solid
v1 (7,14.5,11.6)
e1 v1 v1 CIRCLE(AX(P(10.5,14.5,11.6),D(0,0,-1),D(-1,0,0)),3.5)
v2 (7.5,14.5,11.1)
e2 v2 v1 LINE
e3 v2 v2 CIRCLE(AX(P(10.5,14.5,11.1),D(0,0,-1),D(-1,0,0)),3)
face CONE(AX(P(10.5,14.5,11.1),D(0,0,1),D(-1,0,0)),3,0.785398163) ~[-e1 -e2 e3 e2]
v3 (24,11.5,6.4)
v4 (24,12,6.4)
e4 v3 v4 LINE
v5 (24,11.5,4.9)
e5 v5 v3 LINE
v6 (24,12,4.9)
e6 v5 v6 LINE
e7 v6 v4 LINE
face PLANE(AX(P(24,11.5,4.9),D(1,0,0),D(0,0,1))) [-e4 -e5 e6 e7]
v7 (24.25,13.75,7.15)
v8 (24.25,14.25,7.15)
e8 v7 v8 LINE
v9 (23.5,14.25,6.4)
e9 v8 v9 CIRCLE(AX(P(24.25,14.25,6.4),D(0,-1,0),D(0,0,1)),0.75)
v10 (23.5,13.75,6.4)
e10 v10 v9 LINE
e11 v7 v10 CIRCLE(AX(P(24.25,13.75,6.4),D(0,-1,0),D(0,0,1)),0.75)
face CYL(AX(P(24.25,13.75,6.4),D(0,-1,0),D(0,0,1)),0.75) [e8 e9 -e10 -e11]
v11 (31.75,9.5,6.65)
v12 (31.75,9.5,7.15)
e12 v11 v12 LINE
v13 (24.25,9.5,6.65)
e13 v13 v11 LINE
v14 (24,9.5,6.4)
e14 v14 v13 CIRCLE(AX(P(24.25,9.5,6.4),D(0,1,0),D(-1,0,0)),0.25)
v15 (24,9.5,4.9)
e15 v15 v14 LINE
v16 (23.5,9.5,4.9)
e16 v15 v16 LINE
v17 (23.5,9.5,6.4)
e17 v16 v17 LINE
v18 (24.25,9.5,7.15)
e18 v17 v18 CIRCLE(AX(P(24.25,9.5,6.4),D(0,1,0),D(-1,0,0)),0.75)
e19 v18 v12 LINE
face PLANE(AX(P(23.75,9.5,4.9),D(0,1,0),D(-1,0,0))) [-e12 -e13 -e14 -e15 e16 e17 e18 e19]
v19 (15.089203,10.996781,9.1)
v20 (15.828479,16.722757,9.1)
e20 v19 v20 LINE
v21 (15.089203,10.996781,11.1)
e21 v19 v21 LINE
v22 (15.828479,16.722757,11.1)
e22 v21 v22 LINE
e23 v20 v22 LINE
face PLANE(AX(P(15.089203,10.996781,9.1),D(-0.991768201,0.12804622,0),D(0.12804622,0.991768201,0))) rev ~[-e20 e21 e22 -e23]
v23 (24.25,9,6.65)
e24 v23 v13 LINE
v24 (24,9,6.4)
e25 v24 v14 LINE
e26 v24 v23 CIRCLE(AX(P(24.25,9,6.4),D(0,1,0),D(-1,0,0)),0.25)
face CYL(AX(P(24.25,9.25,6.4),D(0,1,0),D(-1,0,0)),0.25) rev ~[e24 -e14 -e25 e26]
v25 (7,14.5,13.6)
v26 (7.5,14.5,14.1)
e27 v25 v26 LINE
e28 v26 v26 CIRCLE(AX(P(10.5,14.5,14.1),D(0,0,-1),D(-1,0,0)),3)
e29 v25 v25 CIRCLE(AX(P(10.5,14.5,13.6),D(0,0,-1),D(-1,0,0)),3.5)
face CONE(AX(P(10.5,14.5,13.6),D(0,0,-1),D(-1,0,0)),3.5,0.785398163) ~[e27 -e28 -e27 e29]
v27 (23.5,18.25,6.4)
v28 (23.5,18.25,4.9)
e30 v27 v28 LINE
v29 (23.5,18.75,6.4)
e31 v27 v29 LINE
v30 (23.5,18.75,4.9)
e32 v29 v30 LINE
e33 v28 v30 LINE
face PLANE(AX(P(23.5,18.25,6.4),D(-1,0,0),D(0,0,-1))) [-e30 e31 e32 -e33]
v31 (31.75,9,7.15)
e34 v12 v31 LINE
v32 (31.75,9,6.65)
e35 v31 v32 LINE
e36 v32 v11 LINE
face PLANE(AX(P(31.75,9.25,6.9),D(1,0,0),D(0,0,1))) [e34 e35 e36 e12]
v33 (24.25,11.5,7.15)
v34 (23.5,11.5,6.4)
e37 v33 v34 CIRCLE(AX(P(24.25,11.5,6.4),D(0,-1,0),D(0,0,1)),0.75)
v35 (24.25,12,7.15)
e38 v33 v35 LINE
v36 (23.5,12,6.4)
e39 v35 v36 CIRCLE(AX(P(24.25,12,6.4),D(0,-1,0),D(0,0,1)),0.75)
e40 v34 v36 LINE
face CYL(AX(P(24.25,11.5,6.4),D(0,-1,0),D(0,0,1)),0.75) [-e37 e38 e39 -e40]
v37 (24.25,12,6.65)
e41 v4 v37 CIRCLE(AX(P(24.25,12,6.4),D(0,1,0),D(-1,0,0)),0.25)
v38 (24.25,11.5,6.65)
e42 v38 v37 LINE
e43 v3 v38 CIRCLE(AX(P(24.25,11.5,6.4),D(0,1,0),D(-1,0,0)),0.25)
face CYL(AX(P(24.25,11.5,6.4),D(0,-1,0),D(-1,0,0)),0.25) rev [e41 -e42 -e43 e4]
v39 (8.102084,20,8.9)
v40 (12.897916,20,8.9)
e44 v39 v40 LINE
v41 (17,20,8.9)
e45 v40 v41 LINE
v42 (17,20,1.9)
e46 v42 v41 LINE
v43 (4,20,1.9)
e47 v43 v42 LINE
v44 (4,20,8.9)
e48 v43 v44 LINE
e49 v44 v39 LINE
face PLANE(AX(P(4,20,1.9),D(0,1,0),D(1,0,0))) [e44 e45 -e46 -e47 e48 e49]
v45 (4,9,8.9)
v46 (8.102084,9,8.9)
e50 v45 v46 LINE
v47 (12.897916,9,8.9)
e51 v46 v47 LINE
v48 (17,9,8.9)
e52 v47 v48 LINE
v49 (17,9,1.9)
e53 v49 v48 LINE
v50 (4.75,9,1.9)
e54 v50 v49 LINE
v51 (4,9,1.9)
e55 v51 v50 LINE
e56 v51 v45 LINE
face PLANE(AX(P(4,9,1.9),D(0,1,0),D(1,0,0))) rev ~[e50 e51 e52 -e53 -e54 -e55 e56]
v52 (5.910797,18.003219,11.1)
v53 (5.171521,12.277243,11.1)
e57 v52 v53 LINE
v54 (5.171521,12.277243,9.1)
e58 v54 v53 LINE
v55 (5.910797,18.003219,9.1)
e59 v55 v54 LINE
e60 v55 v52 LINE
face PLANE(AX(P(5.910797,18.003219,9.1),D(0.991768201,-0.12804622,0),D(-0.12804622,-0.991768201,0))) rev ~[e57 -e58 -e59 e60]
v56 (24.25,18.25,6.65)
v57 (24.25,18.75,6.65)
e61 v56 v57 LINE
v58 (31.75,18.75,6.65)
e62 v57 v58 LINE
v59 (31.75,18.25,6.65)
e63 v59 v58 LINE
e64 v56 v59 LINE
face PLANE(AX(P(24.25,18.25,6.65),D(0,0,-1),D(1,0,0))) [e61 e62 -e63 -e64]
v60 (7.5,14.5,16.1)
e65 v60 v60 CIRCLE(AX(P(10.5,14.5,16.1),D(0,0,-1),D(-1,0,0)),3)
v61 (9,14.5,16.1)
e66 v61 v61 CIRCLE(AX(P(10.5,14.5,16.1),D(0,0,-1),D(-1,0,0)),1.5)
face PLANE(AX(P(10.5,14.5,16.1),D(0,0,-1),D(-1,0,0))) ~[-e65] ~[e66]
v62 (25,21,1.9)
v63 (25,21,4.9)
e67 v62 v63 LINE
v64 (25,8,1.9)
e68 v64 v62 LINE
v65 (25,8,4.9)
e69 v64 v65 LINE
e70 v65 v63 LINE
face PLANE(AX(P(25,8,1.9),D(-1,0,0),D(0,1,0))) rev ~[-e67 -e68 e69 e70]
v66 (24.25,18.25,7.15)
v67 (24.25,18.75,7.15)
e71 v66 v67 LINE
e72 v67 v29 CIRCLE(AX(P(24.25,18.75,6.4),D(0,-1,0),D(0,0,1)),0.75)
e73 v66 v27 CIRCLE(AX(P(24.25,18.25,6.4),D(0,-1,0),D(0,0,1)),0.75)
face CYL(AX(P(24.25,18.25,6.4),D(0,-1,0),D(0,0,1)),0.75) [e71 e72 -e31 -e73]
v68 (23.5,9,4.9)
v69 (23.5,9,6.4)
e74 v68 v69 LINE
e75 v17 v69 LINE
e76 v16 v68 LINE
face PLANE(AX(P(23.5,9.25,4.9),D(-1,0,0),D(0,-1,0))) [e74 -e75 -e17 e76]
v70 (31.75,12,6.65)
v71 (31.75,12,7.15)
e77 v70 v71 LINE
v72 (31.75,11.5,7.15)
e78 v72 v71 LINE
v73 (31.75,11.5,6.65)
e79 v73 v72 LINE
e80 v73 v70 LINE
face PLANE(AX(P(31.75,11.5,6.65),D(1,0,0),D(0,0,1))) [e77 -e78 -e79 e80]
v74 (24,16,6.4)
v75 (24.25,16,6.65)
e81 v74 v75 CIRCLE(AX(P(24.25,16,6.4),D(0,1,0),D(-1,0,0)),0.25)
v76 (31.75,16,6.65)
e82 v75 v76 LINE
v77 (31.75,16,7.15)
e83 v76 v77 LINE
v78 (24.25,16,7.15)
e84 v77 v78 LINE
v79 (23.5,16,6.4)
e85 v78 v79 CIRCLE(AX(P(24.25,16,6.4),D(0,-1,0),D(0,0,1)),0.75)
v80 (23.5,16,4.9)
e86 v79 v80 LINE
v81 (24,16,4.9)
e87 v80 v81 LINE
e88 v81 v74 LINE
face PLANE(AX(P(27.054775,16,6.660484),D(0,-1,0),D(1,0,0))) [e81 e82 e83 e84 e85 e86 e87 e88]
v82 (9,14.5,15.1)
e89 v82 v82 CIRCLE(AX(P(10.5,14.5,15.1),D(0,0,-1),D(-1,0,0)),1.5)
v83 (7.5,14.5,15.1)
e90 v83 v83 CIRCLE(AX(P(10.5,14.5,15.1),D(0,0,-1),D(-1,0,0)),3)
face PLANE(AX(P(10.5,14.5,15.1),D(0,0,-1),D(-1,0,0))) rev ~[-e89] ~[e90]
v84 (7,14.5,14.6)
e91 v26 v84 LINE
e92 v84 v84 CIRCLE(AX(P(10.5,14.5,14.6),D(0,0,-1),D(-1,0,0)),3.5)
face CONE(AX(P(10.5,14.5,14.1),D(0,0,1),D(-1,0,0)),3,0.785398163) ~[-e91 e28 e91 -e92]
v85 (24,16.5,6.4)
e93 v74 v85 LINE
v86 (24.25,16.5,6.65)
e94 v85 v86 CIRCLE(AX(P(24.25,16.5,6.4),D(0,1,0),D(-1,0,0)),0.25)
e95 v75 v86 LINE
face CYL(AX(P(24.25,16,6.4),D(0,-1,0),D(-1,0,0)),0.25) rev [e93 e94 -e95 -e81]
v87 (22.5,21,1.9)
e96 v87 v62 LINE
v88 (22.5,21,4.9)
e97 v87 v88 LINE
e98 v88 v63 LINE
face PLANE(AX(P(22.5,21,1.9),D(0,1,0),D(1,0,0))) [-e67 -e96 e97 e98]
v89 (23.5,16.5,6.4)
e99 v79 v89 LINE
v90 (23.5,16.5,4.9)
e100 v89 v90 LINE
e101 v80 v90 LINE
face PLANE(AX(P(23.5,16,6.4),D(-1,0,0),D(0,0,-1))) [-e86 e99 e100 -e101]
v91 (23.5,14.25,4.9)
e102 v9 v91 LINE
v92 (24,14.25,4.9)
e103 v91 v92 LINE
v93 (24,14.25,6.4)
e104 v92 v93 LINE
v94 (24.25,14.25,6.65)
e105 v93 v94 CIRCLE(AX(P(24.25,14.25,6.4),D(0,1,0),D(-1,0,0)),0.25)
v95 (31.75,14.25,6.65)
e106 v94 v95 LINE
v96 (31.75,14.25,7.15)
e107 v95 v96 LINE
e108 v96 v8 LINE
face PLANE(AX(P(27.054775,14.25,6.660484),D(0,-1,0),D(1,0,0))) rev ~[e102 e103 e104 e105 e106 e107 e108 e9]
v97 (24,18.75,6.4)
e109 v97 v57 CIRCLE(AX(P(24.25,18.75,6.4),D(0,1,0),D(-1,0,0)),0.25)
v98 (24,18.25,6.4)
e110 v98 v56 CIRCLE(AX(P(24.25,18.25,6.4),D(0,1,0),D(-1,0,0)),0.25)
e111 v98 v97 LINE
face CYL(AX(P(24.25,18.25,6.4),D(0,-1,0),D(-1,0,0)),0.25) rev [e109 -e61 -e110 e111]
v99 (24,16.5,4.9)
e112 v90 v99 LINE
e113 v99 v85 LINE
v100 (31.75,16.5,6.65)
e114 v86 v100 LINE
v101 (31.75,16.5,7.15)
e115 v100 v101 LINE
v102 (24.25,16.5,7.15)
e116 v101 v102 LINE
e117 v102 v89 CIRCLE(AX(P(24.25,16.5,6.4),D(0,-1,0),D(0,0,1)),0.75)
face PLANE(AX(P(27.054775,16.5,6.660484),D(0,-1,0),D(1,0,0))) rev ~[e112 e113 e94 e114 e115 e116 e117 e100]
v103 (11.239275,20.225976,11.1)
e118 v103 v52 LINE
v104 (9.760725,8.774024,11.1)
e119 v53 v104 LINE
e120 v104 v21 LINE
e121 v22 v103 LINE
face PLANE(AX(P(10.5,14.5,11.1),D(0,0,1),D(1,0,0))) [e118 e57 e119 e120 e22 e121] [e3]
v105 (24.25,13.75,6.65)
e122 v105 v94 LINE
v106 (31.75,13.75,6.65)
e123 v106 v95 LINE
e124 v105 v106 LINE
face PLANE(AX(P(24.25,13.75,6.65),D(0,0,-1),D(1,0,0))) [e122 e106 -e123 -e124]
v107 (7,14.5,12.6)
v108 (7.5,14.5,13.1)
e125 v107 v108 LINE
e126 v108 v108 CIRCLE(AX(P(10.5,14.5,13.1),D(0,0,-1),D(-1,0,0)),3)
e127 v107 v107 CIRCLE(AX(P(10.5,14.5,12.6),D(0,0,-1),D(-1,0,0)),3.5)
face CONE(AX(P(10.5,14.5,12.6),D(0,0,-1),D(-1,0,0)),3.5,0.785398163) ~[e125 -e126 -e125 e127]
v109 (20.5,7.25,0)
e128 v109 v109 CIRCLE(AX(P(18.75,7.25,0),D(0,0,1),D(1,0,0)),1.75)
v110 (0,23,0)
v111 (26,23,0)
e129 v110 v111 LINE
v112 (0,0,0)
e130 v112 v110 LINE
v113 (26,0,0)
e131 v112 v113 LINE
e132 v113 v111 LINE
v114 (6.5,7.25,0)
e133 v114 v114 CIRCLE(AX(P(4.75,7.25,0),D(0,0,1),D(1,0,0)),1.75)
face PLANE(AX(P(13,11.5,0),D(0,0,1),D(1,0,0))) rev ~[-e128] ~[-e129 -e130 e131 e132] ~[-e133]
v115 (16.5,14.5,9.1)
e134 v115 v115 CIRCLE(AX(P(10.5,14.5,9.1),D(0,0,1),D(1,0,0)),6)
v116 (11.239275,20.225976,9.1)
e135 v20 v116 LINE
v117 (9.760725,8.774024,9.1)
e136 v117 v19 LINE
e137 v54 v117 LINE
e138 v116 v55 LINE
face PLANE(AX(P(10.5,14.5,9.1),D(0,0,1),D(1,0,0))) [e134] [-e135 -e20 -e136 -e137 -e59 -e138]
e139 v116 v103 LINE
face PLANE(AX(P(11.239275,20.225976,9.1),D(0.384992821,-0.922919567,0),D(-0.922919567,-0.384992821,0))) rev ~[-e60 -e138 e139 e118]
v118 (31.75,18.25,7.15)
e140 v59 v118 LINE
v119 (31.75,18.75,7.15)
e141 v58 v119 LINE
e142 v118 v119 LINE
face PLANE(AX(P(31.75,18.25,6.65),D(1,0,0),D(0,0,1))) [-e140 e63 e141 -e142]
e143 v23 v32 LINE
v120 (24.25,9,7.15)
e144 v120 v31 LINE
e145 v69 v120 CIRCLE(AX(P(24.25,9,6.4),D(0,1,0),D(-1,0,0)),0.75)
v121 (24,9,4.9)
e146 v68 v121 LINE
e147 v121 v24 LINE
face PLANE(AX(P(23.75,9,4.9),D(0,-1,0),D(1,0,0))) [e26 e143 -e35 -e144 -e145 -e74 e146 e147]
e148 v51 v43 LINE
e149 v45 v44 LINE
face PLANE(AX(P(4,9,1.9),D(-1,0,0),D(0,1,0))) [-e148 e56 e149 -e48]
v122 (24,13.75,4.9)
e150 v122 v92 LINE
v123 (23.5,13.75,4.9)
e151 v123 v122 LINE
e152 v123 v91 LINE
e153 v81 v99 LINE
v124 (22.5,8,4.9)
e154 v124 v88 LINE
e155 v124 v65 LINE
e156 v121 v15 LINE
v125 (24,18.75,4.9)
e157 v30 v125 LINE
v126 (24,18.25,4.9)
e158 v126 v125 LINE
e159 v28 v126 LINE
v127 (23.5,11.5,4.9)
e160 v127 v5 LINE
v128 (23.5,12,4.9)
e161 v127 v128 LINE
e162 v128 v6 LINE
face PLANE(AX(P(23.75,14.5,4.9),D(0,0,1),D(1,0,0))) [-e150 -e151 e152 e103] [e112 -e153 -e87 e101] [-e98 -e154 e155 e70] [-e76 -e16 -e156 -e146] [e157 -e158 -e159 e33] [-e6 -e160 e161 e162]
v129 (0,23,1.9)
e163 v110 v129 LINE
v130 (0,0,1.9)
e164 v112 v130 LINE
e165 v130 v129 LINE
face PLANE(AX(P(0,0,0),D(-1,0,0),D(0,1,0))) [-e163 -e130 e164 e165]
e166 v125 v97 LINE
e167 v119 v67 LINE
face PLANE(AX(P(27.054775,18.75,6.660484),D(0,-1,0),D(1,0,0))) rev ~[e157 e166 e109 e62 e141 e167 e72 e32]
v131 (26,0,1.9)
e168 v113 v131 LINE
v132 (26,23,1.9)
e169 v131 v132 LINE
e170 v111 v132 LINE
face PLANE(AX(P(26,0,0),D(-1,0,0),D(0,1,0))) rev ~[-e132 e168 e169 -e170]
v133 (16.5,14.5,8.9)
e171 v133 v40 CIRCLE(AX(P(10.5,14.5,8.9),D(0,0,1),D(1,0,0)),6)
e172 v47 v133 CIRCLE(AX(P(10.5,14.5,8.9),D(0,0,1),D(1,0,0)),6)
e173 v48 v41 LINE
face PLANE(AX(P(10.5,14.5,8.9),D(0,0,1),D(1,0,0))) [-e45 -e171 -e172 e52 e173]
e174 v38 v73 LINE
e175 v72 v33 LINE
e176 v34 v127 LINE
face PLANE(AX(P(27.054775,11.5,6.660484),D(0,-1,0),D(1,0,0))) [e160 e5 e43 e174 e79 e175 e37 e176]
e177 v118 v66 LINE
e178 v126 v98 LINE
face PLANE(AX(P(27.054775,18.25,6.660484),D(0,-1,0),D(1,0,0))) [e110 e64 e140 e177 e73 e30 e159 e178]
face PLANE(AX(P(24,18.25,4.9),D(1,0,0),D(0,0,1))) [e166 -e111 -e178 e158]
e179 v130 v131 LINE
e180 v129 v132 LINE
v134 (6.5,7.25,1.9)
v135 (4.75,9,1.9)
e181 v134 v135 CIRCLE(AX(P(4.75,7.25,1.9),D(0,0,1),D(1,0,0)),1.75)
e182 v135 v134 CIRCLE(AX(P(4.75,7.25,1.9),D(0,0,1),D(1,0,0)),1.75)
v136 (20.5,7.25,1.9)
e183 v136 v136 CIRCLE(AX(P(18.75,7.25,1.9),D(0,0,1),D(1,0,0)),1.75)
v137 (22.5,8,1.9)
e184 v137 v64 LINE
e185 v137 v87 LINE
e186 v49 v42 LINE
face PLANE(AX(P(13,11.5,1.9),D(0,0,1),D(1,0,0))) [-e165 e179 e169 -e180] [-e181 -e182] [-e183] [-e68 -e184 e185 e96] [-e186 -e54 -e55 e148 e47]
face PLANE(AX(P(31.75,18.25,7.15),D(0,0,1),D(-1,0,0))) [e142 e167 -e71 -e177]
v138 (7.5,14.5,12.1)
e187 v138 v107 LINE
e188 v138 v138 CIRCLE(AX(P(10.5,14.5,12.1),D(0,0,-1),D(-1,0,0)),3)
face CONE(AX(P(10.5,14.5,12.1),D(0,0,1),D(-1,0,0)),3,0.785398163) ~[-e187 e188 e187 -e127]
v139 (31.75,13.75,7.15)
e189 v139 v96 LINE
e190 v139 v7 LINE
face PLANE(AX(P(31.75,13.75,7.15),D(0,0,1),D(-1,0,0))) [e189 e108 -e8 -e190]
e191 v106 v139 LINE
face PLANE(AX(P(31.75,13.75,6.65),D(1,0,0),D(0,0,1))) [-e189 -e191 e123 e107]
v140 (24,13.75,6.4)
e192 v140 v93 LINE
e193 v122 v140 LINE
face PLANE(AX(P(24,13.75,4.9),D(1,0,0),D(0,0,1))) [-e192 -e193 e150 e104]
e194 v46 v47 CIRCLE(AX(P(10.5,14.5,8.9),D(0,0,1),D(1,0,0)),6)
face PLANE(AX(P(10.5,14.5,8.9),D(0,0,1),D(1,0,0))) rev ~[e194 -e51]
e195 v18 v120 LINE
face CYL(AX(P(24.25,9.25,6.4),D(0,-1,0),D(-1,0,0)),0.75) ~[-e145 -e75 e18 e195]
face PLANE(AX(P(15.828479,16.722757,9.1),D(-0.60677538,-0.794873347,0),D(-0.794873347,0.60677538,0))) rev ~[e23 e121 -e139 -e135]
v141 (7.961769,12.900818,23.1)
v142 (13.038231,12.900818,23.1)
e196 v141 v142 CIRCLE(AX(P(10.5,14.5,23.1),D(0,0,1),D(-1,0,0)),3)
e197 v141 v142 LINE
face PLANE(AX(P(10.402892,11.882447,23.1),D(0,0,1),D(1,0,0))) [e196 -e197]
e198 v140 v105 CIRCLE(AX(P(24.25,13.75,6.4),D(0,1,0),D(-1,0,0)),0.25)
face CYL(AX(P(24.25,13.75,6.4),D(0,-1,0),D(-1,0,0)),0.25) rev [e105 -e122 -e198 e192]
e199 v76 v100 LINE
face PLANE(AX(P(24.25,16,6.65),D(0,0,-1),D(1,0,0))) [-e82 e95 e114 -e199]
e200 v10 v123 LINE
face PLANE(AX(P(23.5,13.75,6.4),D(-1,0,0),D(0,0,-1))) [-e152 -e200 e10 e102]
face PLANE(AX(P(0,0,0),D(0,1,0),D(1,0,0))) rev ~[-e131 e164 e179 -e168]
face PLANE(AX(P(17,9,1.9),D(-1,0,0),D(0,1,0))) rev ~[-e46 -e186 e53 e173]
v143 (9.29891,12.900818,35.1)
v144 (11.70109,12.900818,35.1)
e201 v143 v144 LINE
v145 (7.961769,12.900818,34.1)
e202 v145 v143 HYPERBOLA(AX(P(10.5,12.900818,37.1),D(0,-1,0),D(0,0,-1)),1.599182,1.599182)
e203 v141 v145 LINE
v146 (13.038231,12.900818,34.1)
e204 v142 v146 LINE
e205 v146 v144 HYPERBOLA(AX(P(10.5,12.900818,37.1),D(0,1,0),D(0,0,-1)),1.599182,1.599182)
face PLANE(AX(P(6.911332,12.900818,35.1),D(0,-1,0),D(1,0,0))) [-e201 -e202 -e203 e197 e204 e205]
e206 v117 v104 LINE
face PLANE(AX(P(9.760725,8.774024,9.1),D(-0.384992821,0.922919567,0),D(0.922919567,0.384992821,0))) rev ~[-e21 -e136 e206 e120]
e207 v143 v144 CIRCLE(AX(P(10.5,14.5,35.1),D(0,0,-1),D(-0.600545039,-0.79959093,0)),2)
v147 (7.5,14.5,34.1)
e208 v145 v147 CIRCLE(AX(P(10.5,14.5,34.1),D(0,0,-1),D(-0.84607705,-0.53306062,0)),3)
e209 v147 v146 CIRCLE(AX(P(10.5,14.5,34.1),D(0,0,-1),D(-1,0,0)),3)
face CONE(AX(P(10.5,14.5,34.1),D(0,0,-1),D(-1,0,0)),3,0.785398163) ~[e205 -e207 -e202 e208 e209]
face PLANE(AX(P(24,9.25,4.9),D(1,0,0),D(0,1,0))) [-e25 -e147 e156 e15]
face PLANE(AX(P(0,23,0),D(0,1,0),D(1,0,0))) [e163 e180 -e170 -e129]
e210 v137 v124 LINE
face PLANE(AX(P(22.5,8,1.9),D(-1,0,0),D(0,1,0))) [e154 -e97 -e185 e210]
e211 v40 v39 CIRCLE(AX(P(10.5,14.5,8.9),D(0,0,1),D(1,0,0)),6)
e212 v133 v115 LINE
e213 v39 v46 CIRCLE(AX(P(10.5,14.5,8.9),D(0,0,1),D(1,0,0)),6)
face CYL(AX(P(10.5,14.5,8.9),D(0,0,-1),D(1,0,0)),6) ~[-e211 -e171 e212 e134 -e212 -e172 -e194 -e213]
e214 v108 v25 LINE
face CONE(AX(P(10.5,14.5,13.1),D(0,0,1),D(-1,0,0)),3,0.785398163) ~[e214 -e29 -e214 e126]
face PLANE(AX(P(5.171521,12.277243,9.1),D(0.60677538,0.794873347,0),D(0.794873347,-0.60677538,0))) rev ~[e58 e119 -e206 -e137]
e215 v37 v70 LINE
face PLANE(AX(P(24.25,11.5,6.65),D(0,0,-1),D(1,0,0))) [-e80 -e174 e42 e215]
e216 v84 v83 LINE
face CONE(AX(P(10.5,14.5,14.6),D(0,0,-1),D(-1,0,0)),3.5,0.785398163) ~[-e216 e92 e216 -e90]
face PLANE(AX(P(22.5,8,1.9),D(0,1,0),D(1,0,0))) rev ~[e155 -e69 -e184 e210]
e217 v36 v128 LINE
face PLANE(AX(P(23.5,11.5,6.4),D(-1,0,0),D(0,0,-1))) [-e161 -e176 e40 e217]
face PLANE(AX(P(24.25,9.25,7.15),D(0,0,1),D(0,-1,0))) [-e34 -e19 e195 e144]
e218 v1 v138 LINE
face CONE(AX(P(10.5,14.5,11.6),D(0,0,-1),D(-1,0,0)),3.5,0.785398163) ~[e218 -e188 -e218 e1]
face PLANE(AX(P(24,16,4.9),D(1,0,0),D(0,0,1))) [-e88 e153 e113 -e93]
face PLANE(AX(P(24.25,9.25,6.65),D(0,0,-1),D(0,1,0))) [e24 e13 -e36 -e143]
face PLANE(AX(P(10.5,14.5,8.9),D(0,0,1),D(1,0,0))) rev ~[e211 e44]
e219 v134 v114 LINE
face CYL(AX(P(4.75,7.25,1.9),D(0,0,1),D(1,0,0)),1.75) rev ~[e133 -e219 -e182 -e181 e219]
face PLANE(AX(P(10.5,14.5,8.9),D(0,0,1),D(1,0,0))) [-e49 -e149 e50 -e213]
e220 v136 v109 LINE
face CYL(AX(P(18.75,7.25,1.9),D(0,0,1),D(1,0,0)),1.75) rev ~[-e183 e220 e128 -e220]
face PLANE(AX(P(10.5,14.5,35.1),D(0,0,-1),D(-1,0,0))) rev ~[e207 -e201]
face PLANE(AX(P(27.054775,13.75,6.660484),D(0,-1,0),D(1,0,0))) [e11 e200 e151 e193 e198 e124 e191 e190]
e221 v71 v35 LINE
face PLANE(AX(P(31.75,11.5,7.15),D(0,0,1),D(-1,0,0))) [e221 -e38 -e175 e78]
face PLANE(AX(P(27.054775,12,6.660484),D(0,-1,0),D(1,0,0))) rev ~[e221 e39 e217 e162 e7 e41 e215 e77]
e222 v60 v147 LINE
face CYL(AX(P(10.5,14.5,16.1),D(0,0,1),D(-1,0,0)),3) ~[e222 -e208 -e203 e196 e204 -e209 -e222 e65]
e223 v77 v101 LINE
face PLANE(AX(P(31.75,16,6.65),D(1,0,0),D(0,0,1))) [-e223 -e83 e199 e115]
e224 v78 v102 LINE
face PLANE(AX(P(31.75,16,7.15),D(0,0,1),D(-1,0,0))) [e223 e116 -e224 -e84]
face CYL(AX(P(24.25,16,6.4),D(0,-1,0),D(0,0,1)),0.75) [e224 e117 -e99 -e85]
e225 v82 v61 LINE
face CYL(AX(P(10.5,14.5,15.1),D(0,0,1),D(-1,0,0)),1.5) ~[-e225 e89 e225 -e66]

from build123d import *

# Parameters (mm, degrees)
F0_W      = 26
F0_H      = 23
F1_DEPTH  = 1.9
F3_W      = 13
F3_H      = 11
F4_DEPTH  = 7
F5_R      = 6
F6_DEPTH  = 0.2
F8_DEPTH  = 2
F14_W     = 6.9831185974
F14_H     = 2.036742866
F15_DEPTH = 12
F16_SIZE  = 1
F17_W     = 2.5
F17_H     = 13
F18_DEPTH = 3
F20_R     = 1.75
F21_DEPTH = 2
F23_W     = 0.5
F23_H     = 0.5
F27_DEPTH = 0.5
F30_DEPTH = 0.5
F33_DEPTH = 0.5
F36_DEPTH = 0.5


with BuildPart() as f1:
    # F0 (on Top) → F1 (new body)
    with BuildSketch(Plane.XY):
        with Locations((13, 11.5)):
            Rectangle(F0_W, F0_H)
    extrude(amount=F1_DEPTH)

    # F3 (on face) → F4 (join)
    with BuildSketch(Plane.XY.offset(1.9)):
        with Locations((10.5, 14.5)):
            Rectangle(F3_W, F3_H)
    extrude(amount=F4_DEPTH)

    # F5 (on face) → F6 (join)
    with BuildSketch(Plane.XY.offset(8.9)):
        with Locations((10.5, 14.5)):
            Circle(F5_R)
    extrude(amount=F6_DEPTH)

    # F7 (on face) → F8 (join)
    with BuildSketch(Plane.XY.offset(9.1)):
        Polygon((5.1715213938, 12.277242911), (9.7607248024, 8.774023619), (15.0892034086, 10.996780708), (15.8284786062, 16.722757089), (11.2392751976, 20.225976381), (5.9107965914, 18.003219292), align=None)
    extrude(amount=F8_DEPTH)

    # F10 (on offset) → F11 (revolve)
    with BuildSketch(Plane(origin=(0, 14.5, 0), x_dir=(-1, 0, 0), z_dir=(0, 1, 0))):
        Polygon((-7.5, 11.1), (-7, 11.6), (-7.5, 12.1), (-7, 12.6), (-7.5, 13.1), (-7, 13.6), (-7.5, 14.1), (-7, 14.6), (-7.5, 15.1), (-10.5, 15.1), (-10.5, 11.1), align=None)
    revolve(axis=Axis((10.5, 14.5, 17.7832646295), (0, 0, -1)))

    # F12 (on offset) → F13 (revolve)
    with BuildSketch(Plane(origin=(0, 14.5, 0), x_dir=(-1, 0, 0), z_dir=(0, 1, 0))):
        Polygon((-7.5, 35.1), (-10.5, 35.1), (-10.5, 15.1), (-9, 15.1), (-9, 16.1), (-7.5, 16.1), align=None)
    revolve(axis=Axis((10.5, 14.5, 21.5967431704), (0, 0, -1)))

    # F14 (on face) → F15 (cut)
    with BuildSketch(Plane.XY.offset(35.1)):
        with Locations((10.4028915521, 11.8824467063)):
            Rectangle(F14_W, F14_H)
    extrude(amount=-F15_DEPTH, mode=Mode.SUBTRACT)

    # F16
    f16_edges = [f1.edges().sort_by_distance(p)[0] for p in [
        (11.332258, 17.382247, 35.1),
    ]]
    chamfer(f16_edges, length=F16_SIZE)

    # F17 (on face) → F18 (join)
    with BuildSketch(Plane.XY.offset(1.9)):
        with Locations((23.75, 14.5)):
            Rectangle(F17_W, F17_H)
    extrude(amount=F18_DEPTH)

    # F20 (on face) → F21 (cut)
    with BuildSketch(Plane.XY.offset(1.9)):
        with Locations((4.75, 7.25)):
            Circle(F20_R)
        with Locations((18.75, 7.25)):
            Circle(F20_R)
    extrude(amount=-F21_DEPTH, mode=Mode.SUBTRACT)

    # F24: sweep along a path in F22
    with BuildLine(Plane.XZ.offset(-9.25)) as f24_path:
        Line((23.75, 4.9), (23.75, 6.4))
        ThreePointArc((23.75, 6.4), (23.8964466094, 6.7535533906), (24.25, 6.9))
        Line((24.25, 6.9), (31.75, 6.9))
    # F23 (on face) → F24 (sweep)
    with BuildSketch(Plane.XY.offset(4.9)):
        with Locations((23.75, 9.25)):
            Rectangle(F23_W, F23_H)
    sweep(path=f24_path.line)

    # F26 (on offset) → F27 (join)
    with BuildSketch(Plane.XZ.offset(-11.5)):
        with BuildLine():
            Line((23.5, 6.4), (23.5, 4.9))
            Line((23.5, 4.9), (24, 4.9))
            Line((24, 4.9), (24, 6.4))
            ThreePointArc((24, 6.4), (24.0732233047, 6.5767766953), (24.25, 6.65))
            Line((24.25, 6.65), (31.75, 6.65))
            Line((31.75, 6.65), (31.75, 7.15))
            Line((31.75, 7.15), (24.25, 7.15))
            ThreePointArc((24.25, 7.15), (23.7196699141, 6.9303300859), (23.5, 6.4))
        make_face()
    extrude(amount=-F27_DEPTH)

    # F29 (on offset) → F30 (join)
    with BuildSketch(Plane.XZ.offset(-13.75)):
        with BuildLine():
            Line((23.5, 6.4), (23.5, 4.9))
            Line((23.5, 4.9), (24, 4.9))
            Line((24, 4.9), (24, 6.4))
            ThreePointArc((24, 6.4), (24.0732233047, 6.5767766953), (24.25, 6.65))
            Line((24.25, 6.65), (31.75, 6.65))
            Line((31.75, 6.65), (31.75, 7.15))
            Line((31.75, 7.15), (24.25, 7.15))
            ThreePointArc((24.25, 7.15), (23.7196699141, 6.9303300859), (23.5, 6.4))
        make_face()
    extrude(amount=-F30_DEPTH)

    # F32 (on offset) → F33 (join)
    with BuildSketch(Plane.XZ.offset(-16)):
        with BuildLine():
            Line((31.75, 7.15), (24.25, 7.15))
            ThreePointArc((24.25, 7.15), (23.7196699141, 6.9303300859), (23.5, 6.4))
            Line((23.5, 6.4), (23.5, 4.9))
            Line((23.5, 4.9), (24, 4.9))
            Line((24, 4.9), (24, 6.4))
            ThreePointArc((24, 6.4), (24.0732233047, 6.5767766953), (24.25, 6.65))
            Line((24.25, 6.65), (31.75, 6.65))
            Line((31.75, 6.65), (31.75, 7.15))
        make_face()
    extrude(amount=-F33_DEPTH)

    # F35 (on offset) → F36 (join)
    with BuildSketch(Plane.XZ.offset(-18.25)):
        with BuildLine():
            ThreePointArc((24, 6.4), (24.0732233047, 6.5767766953), (24.25, 6.65))
            Line((24.25, 6.65), (31.75, 6.65))
            Line((31.75, 6.65), (31.75, 7.15))
            Line((31.75, 7.15), (24.25, 7.15))
            ThreePointArc((24.25, 7.15), (23.7196699141, 6.9303300859), (23.5, 6.4))
            Line((23.5, 6.4), (23.5, 4.9))
            Line((23.5, 4.9), (24, 4.9))
            Line((24, 4.9), (24, 6.4))
        make_face()
    extrude(amount=-F36_DEPTH)


solid = f1.part
